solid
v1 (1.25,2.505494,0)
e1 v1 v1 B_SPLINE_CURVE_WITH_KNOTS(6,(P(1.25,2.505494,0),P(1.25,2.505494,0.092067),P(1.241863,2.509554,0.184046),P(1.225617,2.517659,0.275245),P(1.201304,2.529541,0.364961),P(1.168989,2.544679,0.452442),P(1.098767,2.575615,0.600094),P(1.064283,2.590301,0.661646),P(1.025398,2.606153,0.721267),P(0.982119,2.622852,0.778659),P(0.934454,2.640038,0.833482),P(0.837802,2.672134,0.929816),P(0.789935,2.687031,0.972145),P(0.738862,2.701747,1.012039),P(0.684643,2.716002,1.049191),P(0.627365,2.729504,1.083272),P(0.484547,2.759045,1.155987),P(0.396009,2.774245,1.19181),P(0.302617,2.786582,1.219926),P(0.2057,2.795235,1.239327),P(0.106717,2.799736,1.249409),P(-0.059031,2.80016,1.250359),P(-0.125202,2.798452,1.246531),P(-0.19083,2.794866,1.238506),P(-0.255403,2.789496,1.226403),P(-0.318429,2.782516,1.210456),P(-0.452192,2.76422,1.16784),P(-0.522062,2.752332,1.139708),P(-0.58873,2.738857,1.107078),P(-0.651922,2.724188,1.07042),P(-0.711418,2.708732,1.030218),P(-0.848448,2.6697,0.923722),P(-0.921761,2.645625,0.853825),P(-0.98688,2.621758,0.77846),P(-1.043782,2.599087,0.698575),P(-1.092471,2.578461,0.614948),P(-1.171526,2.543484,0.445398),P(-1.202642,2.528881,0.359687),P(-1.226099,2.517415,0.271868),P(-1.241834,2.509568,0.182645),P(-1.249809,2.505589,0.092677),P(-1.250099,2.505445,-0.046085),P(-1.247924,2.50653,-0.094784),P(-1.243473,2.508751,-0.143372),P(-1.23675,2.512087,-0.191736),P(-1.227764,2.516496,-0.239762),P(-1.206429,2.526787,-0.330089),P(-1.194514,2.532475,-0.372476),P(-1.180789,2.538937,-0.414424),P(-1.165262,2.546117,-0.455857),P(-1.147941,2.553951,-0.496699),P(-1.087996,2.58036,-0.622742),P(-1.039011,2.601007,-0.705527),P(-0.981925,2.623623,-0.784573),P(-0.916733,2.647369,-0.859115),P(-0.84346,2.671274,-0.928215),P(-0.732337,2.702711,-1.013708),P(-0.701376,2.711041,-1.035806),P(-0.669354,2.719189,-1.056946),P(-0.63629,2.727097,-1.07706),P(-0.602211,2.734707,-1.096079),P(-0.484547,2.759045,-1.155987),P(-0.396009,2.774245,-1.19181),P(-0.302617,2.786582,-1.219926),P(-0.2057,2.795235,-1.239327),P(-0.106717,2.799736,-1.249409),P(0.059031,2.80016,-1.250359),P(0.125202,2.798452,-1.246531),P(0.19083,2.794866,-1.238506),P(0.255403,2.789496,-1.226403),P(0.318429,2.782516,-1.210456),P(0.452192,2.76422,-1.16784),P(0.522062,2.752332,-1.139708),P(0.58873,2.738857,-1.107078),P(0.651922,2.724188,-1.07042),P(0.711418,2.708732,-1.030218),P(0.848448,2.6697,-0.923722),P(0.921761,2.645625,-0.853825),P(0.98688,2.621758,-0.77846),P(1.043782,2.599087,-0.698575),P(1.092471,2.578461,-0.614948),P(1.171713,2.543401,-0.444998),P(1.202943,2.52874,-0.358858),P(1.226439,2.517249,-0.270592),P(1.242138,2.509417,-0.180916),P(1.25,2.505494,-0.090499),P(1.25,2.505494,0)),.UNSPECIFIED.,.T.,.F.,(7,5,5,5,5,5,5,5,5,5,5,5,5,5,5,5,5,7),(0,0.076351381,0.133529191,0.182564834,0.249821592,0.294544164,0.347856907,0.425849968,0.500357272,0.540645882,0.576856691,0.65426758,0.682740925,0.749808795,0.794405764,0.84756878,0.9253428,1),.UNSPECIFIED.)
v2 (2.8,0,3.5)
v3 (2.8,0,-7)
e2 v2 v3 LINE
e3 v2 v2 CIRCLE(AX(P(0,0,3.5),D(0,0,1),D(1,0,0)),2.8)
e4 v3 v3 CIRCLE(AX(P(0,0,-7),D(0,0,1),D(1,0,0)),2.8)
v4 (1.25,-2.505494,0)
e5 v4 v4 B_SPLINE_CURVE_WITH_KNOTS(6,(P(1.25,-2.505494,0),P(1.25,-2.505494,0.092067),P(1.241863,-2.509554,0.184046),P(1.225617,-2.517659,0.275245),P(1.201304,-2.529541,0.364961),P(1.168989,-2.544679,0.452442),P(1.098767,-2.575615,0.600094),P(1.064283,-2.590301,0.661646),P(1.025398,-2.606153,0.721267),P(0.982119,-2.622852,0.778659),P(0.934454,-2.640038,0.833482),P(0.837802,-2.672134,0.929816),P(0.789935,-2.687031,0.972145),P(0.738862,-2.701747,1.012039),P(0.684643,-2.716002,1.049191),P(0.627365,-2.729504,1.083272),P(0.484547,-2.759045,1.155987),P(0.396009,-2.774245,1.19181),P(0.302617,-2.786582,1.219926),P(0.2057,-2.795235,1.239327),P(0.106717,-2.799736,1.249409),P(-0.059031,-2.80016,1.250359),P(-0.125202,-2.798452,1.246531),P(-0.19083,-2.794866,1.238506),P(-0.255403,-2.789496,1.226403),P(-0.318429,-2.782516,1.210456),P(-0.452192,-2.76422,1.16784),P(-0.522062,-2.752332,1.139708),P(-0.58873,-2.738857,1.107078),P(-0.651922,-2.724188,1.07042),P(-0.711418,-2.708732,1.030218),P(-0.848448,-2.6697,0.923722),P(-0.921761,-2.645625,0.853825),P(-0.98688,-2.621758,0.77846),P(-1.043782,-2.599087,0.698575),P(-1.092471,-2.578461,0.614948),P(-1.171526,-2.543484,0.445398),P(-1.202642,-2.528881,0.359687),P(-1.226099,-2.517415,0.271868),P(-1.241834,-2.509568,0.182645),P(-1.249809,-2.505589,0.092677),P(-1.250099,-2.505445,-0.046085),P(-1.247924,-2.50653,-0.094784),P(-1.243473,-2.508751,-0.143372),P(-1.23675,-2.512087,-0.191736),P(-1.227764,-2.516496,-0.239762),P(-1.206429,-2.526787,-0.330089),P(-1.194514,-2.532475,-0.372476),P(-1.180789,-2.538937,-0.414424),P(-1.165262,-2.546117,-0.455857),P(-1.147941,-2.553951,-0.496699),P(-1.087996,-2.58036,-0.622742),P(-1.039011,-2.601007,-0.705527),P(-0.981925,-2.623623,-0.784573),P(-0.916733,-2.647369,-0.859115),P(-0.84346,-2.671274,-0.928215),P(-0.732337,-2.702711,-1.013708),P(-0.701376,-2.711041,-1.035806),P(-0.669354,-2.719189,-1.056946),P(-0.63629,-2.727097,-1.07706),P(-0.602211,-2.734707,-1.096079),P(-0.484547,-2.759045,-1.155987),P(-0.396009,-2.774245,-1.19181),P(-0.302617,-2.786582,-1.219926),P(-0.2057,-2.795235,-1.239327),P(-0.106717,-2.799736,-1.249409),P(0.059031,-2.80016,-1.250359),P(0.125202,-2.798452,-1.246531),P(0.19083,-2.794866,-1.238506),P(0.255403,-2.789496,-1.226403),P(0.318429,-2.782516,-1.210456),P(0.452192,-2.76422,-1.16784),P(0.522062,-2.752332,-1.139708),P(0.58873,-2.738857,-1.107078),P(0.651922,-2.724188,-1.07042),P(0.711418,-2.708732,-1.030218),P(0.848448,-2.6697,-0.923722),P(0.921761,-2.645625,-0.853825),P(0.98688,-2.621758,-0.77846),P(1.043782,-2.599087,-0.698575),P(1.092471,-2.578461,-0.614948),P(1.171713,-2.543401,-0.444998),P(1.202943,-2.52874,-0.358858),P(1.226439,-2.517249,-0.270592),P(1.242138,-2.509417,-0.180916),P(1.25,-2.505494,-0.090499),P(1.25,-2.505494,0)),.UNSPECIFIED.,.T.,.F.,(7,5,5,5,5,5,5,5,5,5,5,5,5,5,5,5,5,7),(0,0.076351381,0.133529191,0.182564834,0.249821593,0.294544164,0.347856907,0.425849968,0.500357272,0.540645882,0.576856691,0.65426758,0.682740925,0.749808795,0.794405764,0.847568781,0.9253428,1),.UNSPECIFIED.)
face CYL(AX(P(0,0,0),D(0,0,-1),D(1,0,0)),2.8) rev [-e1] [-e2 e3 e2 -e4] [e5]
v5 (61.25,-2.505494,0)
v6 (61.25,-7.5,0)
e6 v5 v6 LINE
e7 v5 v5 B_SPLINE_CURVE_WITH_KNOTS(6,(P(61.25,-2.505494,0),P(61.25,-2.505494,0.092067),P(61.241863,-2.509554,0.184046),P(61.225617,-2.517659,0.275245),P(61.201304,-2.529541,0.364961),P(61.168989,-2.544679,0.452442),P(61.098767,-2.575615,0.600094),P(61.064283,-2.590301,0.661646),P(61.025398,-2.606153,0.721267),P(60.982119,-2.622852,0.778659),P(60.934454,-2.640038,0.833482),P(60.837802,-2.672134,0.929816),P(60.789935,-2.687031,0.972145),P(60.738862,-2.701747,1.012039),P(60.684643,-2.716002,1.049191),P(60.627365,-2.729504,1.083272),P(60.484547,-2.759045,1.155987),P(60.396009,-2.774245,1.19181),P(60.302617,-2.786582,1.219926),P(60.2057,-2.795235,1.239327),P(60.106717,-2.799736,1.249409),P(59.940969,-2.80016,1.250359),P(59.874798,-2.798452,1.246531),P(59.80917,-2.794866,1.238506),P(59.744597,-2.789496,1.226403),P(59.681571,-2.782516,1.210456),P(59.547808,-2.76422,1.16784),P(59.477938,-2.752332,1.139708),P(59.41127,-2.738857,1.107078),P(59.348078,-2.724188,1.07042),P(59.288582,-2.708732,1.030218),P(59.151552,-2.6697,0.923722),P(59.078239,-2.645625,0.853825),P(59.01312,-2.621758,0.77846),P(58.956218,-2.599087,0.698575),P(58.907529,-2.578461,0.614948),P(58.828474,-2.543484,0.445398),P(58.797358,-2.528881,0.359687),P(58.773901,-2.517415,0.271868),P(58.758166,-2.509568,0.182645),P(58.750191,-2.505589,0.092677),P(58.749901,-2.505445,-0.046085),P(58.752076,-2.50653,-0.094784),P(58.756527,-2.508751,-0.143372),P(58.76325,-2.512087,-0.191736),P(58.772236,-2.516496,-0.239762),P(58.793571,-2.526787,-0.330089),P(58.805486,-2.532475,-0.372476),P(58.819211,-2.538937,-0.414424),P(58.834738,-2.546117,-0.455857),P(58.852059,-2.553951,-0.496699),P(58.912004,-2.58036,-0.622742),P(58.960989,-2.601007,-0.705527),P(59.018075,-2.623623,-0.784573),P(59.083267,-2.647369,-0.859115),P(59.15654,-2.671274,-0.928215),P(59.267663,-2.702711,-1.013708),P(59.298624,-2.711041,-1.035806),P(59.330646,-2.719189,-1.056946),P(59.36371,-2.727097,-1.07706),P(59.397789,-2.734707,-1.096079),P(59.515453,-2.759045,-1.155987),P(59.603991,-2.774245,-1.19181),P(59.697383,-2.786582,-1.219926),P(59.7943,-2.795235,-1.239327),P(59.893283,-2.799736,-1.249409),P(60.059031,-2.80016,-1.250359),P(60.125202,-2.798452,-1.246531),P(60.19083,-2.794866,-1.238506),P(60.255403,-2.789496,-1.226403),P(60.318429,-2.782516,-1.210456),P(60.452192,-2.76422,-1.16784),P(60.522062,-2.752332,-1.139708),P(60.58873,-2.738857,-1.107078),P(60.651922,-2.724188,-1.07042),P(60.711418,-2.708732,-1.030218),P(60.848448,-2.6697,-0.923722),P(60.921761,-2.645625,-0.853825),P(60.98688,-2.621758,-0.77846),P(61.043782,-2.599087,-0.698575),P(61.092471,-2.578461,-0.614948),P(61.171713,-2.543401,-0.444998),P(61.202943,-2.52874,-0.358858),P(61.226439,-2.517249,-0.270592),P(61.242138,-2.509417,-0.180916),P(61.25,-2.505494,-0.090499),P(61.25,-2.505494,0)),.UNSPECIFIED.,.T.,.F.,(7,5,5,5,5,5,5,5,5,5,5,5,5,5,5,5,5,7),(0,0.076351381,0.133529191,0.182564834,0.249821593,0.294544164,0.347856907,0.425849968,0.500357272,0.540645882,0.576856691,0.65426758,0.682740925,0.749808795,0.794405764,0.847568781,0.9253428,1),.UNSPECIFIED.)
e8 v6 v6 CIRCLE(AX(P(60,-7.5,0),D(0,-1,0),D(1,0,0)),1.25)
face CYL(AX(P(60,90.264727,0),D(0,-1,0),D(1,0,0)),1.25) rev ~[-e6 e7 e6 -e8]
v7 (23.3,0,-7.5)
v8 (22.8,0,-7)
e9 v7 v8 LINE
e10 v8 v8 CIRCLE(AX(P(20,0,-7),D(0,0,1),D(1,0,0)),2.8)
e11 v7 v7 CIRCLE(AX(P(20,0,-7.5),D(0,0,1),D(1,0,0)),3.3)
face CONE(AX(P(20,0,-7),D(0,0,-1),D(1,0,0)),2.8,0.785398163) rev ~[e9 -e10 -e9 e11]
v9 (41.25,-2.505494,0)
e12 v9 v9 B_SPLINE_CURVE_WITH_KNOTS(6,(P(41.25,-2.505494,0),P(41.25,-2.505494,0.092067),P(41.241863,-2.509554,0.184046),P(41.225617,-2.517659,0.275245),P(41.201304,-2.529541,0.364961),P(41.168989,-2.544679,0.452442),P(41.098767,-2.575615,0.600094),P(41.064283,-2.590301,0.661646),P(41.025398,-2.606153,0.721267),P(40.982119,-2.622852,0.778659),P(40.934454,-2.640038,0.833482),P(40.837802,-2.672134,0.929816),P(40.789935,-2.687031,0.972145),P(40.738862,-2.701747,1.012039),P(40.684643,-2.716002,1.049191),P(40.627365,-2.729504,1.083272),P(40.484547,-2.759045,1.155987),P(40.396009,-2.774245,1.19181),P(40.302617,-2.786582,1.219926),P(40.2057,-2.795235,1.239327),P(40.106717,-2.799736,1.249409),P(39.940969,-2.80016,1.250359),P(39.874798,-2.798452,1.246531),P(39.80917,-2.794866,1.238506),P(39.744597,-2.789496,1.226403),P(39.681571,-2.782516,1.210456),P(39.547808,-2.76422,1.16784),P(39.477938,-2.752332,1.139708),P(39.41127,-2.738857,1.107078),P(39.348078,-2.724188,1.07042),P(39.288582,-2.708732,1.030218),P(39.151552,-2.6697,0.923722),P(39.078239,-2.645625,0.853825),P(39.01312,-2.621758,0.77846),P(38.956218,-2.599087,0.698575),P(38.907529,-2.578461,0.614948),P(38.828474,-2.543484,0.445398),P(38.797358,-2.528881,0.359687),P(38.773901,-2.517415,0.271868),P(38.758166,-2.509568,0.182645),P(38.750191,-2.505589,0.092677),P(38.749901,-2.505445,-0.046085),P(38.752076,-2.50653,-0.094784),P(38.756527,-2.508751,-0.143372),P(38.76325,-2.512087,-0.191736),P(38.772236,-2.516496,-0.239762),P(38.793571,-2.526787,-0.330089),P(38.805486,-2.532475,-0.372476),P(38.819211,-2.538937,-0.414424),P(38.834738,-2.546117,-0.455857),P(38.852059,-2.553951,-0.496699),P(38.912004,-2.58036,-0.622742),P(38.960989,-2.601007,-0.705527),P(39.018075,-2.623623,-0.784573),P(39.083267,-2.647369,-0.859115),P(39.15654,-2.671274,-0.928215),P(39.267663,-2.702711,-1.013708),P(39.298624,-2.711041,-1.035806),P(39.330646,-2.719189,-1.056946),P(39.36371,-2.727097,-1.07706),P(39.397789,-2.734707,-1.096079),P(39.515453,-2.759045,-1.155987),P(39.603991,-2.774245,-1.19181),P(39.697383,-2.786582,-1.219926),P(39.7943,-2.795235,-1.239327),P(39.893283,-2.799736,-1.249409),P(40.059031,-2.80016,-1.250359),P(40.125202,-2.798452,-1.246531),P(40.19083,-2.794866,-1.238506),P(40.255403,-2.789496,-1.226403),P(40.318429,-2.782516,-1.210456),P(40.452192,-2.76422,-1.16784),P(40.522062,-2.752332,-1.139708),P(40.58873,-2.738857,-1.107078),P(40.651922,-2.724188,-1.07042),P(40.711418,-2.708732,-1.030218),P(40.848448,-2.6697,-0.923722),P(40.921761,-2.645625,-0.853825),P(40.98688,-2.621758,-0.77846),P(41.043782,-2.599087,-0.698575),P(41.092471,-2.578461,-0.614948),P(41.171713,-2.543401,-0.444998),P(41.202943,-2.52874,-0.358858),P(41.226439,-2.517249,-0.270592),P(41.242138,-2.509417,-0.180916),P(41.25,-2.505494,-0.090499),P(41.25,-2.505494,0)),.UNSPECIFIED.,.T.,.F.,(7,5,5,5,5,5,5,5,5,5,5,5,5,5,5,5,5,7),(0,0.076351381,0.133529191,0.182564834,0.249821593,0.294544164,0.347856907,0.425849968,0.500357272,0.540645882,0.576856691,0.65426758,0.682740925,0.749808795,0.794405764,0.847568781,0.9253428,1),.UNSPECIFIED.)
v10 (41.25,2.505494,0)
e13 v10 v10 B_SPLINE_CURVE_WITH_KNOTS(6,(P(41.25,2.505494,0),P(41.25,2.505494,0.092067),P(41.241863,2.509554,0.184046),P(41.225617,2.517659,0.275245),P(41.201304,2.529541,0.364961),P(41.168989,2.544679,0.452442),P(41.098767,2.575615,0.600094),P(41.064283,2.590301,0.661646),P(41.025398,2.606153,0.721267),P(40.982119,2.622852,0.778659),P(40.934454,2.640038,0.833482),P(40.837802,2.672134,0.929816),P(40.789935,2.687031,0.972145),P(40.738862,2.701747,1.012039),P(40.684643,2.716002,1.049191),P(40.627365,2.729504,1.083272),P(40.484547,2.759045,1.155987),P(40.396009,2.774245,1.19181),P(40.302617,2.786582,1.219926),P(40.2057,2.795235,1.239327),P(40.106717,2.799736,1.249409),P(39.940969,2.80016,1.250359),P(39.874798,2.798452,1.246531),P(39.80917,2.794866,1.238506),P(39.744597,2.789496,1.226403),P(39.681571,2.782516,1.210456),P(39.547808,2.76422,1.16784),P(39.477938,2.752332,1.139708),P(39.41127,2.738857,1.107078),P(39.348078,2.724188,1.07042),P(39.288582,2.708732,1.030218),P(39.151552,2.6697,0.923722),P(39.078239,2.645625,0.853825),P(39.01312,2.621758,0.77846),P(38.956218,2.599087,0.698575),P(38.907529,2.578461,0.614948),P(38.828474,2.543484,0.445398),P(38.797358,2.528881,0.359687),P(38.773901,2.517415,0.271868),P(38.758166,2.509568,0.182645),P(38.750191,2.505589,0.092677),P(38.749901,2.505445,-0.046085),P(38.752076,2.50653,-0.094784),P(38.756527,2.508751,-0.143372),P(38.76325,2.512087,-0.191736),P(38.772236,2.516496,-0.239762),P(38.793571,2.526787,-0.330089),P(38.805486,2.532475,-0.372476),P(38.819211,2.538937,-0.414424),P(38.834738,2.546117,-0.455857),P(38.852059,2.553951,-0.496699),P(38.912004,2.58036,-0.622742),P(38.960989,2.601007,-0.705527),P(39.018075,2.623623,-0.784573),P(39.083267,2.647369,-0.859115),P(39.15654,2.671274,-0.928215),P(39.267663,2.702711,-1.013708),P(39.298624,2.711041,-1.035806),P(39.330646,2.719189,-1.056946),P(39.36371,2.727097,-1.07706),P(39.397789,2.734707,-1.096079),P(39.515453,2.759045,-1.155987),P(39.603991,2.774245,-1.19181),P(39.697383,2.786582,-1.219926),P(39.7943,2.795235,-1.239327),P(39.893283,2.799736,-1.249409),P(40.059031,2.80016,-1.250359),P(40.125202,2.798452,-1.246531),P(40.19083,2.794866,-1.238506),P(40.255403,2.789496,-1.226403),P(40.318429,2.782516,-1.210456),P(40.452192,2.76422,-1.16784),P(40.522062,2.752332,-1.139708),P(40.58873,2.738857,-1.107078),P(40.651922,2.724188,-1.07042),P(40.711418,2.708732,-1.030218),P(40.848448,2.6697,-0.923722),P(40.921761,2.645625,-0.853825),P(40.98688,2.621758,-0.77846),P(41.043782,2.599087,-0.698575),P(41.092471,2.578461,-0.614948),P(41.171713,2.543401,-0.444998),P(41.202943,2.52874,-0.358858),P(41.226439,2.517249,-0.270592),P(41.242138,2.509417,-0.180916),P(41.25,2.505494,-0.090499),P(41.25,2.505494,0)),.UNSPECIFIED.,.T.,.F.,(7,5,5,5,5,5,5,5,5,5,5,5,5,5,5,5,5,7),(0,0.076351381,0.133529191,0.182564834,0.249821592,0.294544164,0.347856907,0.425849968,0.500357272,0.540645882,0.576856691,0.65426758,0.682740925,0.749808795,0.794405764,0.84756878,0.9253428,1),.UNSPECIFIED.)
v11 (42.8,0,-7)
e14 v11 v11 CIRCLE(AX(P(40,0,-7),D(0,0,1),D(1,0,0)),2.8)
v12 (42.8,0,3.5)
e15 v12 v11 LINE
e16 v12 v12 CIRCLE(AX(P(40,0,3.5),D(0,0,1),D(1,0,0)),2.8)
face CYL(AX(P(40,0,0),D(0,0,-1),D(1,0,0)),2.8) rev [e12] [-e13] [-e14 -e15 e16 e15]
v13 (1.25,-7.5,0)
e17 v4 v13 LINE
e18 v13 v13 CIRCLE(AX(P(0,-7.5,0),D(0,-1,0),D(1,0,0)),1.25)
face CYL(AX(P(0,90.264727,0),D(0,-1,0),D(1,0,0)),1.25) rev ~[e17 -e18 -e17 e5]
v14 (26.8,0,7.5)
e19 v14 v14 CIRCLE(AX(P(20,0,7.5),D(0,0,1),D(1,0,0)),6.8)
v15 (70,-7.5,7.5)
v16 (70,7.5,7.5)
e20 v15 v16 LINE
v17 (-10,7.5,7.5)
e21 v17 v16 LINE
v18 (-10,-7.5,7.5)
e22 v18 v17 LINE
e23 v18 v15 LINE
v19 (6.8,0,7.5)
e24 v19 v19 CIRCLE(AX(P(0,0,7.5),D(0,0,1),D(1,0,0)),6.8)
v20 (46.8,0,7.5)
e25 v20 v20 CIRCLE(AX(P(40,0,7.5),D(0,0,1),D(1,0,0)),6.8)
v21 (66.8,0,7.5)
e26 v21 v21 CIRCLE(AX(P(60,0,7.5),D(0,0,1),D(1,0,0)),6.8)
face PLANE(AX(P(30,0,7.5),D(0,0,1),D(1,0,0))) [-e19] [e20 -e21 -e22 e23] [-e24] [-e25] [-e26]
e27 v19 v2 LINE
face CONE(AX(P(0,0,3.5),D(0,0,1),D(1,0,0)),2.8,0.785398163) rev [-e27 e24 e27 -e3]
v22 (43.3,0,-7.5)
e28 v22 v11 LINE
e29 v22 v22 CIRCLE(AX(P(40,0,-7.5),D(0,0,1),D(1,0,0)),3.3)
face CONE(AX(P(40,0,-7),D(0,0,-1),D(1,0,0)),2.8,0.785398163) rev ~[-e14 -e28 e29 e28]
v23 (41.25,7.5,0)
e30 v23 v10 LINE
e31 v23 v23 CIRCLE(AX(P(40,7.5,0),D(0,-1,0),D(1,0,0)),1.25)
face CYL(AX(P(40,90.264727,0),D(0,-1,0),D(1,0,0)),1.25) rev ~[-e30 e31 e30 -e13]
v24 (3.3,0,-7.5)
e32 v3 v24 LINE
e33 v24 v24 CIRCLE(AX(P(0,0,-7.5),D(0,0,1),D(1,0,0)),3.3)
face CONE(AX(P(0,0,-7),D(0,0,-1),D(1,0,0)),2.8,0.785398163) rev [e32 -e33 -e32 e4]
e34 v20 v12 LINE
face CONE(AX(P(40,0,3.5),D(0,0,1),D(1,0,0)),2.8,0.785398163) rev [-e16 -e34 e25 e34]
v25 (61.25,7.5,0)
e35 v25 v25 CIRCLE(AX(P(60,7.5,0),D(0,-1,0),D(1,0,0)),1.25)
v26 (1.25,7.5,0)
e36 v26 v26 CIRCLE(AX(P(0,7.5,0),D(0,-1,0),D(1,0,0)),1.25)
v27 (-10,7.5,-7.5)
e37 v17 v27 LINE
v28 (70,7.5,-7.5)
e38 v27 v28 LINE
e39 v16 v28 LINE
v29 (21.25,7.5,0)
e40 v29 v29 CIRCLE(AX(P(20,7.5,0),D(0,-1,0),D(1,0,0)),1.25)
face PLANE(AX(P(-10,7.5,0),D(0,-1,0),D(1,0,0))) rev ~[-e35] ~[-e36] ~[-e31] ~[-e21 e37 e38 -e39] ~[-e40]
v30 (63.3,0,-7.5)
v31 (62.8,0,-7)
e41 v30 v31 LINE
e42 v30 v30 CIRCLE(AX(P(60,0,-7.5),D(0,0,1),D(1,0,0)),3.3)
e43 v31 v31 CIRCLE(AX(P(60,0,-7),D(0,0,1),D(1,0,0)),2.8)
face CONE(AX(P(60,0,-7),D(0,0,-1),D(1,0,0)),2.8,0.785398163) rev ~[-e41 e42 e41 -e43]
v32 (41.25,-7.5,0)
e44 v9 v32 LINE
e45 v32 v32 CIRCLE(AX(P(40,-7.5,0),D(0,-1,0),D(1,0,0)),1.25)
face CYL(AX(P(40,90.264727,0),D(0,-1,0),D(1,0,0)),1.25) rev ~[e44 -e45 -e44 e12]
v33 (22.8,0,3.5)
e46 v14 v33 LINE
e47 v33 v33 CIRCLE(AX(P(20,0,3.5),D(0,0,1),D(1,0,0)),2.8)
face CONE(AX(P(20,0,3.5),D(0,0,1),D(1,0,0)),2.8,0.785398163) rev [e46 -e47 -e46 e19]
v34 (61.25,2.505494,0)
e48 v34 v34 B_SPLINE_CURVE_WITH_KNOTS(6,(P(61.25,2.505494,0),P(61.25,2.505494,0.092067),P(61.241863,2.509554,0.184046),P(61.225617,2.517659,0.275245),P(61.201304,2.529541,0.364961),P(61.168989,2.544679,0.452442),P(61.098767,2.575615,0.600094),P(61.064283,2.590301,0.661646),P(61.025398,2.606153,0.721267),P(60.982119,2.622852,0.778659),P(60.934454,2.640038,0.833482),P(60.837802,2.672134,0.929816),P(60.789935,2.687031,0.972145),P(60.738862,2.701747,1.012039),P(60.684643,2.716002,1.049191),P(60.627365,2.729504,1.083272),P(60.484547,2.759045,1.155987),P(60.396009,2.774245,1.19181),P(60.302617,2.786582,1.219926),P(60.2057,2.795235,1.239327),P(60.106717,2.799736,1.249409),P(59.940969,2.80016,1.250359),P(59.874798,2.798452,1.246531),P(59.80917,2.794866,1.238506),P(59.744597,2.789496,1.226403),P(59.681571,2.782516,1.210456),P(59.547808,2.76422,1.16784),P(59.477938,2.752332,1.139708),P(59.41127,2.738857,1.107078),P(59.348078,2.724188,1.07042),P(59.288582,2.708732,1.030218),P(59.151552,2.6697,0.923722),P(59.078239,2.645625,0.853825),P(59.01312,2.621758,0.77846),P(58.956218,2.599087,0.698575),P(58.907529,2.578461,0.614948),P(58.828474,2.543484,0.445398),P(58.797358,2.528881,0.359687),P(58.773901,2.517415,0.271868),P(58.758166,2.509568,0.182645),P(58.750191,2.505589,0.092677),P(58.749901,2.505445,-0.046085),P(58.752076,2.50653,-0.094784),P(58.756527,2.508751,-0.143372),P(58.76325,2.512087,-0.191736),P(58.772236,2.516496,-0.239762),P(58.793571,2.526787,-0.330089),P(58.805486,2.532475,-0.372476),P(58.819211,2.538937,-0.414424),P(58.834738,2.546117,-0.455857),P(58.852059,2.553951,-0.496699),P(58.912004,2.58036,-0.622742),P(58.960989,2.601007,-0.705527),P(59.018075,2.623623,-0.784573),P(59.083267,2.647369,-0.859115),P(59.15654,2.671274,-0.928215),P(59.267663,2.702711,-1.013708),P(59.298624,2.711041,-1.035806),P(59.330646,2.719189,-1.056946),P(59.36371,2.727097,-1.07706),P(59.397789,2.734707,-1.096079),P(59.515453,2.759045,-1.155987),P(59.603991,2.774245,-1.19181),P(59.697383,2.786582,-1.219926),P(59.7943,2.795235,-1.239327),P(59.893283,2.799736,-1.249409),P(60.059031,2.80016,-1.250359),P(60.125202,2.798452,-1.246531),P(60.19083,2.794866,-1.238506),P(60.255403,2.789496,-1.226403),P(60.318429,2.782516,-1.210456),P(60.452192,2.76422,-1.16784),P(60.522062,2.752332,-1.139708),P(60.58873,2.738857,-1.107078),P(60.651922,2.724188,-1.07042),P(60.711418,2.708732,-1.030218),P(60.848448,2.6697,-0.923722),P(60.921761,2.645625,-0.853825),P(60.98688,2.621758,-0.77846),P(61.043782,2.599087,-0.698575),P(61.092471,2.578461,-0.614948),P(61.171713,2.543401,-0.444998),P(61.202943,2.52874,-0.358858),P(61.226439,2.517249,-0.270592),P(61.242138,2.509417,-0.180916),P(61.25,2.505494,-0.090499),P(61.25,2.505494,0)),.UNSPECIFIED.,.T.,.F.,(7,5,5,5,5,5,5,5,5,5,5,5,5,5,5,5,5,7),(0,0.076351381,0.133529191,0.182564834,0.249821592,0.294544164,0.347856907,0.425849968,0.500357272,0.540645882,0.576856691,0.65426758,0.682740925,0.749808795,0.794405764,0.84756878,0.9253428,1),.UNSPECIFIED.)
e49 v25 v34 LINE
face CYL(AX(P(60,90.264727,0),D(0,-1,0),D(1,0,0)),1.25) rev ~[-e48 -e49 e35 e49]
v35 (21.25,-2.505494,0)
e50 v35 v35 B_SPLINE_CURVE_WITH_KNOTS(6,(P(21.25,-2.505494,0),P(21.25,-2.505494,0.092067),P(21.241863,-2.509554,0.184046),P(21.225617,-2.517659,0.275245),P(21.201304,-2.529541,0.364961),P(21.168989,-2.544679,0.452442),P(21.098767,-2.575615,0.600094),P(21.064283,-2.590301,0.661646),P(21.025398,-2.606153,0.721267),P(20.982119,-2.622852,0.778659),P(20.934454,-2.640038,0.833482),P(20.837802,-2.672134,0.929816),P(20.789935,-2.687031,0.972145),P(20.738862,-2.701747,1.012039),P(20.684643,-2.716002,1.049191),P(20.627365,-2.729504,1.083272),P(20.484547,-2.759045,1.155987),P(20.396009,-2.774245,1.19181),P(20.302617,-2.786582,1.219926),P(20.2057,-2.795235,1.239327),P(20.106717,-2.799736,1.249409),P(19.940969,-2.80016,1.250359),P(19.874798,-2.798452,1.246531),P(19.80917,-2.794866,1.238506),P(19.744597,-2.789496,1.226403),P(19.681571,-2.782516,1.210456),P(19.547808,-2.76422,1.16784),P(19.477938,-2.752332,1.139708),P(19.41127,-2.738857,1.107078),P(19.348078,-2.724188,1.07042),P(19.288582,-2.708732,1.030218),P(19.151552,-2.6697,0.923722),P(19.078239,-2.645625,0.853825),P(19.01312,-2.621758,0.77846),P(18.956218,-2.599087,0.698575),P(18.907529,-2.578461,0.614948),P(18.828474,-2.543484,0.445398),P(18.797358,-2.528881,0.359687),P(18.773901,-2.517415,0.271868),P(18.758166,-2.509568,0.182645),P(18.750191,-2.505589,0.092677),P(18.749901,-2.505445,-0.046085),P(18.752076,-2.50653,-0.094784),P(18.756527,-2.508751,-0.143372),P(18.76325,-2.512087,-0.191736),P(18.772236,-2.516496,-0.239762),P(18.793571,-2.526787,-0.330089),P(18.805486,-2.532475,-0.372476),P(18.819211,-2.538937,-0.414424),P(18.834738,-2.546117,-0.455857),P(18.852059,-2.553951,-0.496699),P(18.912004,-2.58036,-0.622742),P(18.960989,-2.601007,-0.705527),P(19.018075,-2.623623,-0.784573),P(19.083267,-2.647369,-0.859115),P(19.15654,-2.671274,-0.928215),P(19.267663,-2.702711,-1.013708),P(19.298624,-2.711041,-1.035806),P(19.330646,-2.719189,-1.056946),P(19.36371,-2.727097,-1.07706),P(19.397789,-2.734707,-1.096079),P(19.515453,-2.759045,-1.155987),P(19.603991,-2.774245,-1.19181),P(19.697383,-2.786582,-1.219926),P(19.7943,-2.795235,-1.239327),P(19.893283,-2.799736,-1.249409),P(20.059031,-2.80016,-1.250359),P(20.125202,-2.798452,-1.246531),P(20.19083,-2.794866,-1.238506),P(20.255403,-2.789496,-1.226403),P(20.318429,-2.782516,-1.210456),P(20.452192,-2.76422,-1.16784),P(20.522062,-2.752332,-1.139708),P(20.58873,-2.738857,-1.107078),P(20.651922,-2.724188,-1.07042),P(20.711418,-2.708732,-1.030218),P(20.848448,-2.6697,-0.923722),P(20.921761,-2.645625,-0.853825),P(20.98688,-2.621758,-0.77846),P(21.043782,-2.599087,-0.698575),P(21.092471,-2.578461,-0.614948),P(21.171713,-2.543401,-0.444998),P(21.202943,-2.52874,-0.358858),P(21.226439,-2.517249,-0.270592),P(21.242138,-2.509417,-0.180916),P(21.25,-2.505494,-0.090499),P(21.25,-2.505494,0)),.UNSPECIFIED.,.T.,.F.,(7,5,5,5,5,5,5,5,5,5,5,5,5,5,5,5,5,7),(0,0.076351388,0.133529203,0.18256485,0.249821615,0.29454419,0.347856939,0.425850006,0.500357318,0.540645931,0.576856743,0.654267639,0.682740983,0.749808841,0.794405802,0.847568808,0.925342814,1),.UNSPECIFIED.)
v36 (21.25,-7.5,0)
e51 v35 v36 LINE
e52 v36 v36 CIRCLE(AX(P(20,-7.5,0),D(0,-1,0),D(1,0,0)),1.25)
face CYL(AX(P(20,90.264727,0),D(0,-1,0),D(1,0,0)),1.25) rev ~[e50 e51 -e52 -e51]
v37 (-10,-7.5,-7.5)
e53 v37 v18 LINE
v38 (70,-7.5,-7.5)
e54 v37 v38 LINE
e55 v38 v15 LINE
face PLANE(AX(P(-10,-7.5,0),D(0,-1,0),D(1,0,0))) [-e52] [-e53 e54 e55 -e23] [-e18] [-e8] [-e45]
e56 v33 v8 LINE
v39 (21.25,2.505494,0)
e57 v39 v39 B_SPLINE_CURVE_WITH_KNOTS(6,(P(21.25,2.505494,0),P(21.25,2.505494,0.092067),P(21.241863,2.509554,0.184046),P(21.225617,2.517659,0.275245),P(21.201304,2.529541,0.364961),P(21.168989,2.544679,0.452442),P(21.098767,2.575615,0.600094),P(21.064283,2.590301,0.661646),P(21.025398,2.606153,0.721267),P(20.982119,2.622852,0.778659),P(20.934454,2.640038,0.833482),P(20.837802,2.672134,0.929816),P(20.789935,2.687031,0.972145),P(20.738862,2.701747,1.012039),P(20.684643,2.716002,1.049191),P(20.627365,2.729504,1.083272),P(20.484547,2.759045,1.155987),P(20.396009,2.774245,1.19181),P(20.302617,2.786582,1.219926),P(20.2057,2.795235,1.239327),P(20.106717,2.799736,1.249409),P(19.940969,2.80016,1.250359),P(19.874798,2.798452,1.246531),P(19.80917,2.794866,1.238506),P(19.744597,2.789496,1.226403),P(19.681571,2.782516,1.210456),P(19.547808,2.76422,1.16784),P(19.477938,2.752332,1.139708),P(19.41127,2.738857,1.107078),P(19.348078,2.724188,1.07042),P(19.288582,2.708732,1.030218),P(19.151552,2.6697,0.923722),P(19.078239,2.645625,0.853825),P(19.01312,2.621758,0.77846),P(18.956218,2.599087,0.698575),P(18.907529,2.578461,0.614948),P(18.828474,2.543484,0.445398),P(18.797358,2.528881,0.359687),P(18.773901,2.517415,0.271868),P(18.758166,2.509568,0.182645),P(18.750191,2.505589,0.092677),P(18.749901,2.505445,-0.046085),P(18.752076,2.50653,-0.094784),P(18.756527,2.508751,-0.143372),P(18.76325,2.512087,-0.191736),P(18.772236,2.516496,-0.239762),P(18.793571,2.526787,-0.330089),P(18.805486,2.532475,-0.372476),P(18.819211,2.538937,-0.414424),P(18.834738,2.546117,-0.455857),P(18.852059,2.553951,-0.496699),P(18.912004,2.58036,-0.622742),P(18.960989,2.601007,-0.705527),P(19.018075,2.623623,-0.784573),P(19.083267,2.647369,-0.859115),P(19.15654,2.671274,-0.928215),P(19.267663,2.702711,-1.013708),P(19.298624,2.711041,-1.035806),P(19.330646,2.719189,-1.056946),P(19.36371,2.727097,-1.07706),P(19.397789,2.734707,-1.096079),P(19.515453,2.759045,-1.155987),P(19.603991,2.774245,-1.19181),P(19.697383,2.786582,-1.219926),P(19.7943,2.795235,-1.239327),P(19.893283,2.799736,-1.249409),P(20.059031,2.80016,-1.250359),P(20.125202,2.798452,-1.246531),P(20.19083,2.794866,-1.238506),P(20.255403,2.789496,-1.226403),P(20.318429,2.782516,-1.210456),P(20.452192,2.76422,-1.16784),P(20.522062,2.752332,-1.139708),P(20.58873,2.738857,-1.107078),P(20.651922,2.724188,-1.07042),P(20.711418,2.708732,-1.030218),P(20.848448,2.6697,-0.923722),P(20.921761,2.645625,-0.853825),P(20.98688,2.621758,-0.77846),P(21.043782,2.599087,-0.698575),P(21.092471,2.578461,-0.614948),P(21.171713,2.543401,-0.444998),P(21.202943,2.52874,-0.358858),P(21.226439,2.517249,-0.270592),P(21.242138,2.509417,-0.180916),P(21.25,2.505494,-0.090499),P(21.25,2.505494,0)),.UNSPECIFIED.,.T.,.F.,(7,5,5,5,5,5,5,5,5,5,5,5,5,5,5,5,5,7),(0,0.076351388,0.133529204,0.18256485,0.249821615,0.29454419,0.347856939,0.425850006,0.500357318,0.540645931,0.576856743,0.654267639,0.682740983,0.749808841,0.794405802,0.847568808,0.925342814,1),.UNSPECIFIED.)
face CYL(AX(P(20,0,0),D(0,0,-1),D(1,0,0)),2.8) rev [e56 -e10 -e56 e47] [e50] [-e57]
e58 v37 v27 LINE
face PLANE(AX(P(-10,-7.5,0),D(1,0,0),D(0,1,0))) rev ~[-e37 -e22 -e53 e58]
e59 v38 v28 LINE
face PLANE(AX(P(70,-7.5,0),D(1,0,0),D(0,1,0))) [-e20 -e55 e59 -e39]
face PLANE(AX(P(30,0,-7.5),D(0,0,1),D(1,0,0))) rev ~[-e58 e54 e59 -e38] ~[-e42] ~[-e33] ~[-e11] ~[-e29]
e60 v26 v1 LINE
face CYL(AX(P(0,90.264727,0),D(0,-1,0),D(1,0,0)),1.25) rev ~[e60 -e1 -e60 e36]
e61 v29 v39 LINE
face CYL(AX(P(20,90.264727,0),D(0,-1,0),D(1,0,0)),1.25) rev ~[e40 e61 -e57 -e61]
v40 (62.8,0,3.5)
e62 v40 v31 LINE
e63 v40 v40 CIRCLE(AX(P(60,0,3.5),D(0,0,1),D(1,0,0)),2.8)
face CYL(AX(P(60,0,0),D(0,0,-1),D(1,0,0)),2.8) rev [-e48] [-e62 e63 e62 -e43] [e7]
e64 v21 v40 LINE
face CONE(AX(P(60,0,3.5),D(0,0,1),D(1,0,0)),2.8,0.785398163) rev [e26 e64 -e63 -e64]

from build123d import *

# Parameters (mm, degrees)
F0_W     = 80
F0_H     = 15
F0_R     = 2.8
F1_DEPTH = 7.5
F2_SIZE  = 4
F3_SIZE  = 0.5
F5_D     = 2.5


with BuildPart() as f1:
    # F0 (on Top) → F1 (new body, symmetric)
    with BuildSketch(Plane.XY):
        with Locations((30, 0)):
            Rectangle(F0_W, F0_H)
        Circle(F0_R, mode=Mode.SUBTRACT)
        with Locations((20, 0)):
            Circle(F0_R, mode=Mode.SUBTRACT)
        with Locations((40, 0)):
            Circle(F0_R, mode=Mode.SUBTRACT)
        with Locations((60, 0)):
            Circle(F0_R, mode=Mode.SUBTRACT)
    extrude(amount=F1_DEPTH, both=True)

    # F2
    f2_edges = [f1.edges().sort_by_distance(p)[0] for p in [
        (-2.8, 0, 7.5),
        (17.2, 0, 7.5),
        (37.2, 0, 7.5),
        (57.2, 0, 7.5),
    ]]
    chamfer(f2_edges, length=F2_SIZE)

    # F3
    f3_edges = [f1.edges().sort_by_distance(p)[0] for p in [
        (57.2, 0, -7.5),
        (37.2, 0, -7.5),
        (17.2, 0, -7.5),
        (-2.8, 0, -7.5),
    ]]
    chamfer(f3_edges, length=F3_SIZE)

    # F5 (through all)
    with Locations(Plane(origin=(0, 7.5, 0), x_dir=(-1, 0, 0), z_dir=(0, 1, 0))):
        with Locations((-60, 0), (-40, 0), (-20, 0), (0, 0)):
            Hole(F5_D / 2)


solid = f1.part
